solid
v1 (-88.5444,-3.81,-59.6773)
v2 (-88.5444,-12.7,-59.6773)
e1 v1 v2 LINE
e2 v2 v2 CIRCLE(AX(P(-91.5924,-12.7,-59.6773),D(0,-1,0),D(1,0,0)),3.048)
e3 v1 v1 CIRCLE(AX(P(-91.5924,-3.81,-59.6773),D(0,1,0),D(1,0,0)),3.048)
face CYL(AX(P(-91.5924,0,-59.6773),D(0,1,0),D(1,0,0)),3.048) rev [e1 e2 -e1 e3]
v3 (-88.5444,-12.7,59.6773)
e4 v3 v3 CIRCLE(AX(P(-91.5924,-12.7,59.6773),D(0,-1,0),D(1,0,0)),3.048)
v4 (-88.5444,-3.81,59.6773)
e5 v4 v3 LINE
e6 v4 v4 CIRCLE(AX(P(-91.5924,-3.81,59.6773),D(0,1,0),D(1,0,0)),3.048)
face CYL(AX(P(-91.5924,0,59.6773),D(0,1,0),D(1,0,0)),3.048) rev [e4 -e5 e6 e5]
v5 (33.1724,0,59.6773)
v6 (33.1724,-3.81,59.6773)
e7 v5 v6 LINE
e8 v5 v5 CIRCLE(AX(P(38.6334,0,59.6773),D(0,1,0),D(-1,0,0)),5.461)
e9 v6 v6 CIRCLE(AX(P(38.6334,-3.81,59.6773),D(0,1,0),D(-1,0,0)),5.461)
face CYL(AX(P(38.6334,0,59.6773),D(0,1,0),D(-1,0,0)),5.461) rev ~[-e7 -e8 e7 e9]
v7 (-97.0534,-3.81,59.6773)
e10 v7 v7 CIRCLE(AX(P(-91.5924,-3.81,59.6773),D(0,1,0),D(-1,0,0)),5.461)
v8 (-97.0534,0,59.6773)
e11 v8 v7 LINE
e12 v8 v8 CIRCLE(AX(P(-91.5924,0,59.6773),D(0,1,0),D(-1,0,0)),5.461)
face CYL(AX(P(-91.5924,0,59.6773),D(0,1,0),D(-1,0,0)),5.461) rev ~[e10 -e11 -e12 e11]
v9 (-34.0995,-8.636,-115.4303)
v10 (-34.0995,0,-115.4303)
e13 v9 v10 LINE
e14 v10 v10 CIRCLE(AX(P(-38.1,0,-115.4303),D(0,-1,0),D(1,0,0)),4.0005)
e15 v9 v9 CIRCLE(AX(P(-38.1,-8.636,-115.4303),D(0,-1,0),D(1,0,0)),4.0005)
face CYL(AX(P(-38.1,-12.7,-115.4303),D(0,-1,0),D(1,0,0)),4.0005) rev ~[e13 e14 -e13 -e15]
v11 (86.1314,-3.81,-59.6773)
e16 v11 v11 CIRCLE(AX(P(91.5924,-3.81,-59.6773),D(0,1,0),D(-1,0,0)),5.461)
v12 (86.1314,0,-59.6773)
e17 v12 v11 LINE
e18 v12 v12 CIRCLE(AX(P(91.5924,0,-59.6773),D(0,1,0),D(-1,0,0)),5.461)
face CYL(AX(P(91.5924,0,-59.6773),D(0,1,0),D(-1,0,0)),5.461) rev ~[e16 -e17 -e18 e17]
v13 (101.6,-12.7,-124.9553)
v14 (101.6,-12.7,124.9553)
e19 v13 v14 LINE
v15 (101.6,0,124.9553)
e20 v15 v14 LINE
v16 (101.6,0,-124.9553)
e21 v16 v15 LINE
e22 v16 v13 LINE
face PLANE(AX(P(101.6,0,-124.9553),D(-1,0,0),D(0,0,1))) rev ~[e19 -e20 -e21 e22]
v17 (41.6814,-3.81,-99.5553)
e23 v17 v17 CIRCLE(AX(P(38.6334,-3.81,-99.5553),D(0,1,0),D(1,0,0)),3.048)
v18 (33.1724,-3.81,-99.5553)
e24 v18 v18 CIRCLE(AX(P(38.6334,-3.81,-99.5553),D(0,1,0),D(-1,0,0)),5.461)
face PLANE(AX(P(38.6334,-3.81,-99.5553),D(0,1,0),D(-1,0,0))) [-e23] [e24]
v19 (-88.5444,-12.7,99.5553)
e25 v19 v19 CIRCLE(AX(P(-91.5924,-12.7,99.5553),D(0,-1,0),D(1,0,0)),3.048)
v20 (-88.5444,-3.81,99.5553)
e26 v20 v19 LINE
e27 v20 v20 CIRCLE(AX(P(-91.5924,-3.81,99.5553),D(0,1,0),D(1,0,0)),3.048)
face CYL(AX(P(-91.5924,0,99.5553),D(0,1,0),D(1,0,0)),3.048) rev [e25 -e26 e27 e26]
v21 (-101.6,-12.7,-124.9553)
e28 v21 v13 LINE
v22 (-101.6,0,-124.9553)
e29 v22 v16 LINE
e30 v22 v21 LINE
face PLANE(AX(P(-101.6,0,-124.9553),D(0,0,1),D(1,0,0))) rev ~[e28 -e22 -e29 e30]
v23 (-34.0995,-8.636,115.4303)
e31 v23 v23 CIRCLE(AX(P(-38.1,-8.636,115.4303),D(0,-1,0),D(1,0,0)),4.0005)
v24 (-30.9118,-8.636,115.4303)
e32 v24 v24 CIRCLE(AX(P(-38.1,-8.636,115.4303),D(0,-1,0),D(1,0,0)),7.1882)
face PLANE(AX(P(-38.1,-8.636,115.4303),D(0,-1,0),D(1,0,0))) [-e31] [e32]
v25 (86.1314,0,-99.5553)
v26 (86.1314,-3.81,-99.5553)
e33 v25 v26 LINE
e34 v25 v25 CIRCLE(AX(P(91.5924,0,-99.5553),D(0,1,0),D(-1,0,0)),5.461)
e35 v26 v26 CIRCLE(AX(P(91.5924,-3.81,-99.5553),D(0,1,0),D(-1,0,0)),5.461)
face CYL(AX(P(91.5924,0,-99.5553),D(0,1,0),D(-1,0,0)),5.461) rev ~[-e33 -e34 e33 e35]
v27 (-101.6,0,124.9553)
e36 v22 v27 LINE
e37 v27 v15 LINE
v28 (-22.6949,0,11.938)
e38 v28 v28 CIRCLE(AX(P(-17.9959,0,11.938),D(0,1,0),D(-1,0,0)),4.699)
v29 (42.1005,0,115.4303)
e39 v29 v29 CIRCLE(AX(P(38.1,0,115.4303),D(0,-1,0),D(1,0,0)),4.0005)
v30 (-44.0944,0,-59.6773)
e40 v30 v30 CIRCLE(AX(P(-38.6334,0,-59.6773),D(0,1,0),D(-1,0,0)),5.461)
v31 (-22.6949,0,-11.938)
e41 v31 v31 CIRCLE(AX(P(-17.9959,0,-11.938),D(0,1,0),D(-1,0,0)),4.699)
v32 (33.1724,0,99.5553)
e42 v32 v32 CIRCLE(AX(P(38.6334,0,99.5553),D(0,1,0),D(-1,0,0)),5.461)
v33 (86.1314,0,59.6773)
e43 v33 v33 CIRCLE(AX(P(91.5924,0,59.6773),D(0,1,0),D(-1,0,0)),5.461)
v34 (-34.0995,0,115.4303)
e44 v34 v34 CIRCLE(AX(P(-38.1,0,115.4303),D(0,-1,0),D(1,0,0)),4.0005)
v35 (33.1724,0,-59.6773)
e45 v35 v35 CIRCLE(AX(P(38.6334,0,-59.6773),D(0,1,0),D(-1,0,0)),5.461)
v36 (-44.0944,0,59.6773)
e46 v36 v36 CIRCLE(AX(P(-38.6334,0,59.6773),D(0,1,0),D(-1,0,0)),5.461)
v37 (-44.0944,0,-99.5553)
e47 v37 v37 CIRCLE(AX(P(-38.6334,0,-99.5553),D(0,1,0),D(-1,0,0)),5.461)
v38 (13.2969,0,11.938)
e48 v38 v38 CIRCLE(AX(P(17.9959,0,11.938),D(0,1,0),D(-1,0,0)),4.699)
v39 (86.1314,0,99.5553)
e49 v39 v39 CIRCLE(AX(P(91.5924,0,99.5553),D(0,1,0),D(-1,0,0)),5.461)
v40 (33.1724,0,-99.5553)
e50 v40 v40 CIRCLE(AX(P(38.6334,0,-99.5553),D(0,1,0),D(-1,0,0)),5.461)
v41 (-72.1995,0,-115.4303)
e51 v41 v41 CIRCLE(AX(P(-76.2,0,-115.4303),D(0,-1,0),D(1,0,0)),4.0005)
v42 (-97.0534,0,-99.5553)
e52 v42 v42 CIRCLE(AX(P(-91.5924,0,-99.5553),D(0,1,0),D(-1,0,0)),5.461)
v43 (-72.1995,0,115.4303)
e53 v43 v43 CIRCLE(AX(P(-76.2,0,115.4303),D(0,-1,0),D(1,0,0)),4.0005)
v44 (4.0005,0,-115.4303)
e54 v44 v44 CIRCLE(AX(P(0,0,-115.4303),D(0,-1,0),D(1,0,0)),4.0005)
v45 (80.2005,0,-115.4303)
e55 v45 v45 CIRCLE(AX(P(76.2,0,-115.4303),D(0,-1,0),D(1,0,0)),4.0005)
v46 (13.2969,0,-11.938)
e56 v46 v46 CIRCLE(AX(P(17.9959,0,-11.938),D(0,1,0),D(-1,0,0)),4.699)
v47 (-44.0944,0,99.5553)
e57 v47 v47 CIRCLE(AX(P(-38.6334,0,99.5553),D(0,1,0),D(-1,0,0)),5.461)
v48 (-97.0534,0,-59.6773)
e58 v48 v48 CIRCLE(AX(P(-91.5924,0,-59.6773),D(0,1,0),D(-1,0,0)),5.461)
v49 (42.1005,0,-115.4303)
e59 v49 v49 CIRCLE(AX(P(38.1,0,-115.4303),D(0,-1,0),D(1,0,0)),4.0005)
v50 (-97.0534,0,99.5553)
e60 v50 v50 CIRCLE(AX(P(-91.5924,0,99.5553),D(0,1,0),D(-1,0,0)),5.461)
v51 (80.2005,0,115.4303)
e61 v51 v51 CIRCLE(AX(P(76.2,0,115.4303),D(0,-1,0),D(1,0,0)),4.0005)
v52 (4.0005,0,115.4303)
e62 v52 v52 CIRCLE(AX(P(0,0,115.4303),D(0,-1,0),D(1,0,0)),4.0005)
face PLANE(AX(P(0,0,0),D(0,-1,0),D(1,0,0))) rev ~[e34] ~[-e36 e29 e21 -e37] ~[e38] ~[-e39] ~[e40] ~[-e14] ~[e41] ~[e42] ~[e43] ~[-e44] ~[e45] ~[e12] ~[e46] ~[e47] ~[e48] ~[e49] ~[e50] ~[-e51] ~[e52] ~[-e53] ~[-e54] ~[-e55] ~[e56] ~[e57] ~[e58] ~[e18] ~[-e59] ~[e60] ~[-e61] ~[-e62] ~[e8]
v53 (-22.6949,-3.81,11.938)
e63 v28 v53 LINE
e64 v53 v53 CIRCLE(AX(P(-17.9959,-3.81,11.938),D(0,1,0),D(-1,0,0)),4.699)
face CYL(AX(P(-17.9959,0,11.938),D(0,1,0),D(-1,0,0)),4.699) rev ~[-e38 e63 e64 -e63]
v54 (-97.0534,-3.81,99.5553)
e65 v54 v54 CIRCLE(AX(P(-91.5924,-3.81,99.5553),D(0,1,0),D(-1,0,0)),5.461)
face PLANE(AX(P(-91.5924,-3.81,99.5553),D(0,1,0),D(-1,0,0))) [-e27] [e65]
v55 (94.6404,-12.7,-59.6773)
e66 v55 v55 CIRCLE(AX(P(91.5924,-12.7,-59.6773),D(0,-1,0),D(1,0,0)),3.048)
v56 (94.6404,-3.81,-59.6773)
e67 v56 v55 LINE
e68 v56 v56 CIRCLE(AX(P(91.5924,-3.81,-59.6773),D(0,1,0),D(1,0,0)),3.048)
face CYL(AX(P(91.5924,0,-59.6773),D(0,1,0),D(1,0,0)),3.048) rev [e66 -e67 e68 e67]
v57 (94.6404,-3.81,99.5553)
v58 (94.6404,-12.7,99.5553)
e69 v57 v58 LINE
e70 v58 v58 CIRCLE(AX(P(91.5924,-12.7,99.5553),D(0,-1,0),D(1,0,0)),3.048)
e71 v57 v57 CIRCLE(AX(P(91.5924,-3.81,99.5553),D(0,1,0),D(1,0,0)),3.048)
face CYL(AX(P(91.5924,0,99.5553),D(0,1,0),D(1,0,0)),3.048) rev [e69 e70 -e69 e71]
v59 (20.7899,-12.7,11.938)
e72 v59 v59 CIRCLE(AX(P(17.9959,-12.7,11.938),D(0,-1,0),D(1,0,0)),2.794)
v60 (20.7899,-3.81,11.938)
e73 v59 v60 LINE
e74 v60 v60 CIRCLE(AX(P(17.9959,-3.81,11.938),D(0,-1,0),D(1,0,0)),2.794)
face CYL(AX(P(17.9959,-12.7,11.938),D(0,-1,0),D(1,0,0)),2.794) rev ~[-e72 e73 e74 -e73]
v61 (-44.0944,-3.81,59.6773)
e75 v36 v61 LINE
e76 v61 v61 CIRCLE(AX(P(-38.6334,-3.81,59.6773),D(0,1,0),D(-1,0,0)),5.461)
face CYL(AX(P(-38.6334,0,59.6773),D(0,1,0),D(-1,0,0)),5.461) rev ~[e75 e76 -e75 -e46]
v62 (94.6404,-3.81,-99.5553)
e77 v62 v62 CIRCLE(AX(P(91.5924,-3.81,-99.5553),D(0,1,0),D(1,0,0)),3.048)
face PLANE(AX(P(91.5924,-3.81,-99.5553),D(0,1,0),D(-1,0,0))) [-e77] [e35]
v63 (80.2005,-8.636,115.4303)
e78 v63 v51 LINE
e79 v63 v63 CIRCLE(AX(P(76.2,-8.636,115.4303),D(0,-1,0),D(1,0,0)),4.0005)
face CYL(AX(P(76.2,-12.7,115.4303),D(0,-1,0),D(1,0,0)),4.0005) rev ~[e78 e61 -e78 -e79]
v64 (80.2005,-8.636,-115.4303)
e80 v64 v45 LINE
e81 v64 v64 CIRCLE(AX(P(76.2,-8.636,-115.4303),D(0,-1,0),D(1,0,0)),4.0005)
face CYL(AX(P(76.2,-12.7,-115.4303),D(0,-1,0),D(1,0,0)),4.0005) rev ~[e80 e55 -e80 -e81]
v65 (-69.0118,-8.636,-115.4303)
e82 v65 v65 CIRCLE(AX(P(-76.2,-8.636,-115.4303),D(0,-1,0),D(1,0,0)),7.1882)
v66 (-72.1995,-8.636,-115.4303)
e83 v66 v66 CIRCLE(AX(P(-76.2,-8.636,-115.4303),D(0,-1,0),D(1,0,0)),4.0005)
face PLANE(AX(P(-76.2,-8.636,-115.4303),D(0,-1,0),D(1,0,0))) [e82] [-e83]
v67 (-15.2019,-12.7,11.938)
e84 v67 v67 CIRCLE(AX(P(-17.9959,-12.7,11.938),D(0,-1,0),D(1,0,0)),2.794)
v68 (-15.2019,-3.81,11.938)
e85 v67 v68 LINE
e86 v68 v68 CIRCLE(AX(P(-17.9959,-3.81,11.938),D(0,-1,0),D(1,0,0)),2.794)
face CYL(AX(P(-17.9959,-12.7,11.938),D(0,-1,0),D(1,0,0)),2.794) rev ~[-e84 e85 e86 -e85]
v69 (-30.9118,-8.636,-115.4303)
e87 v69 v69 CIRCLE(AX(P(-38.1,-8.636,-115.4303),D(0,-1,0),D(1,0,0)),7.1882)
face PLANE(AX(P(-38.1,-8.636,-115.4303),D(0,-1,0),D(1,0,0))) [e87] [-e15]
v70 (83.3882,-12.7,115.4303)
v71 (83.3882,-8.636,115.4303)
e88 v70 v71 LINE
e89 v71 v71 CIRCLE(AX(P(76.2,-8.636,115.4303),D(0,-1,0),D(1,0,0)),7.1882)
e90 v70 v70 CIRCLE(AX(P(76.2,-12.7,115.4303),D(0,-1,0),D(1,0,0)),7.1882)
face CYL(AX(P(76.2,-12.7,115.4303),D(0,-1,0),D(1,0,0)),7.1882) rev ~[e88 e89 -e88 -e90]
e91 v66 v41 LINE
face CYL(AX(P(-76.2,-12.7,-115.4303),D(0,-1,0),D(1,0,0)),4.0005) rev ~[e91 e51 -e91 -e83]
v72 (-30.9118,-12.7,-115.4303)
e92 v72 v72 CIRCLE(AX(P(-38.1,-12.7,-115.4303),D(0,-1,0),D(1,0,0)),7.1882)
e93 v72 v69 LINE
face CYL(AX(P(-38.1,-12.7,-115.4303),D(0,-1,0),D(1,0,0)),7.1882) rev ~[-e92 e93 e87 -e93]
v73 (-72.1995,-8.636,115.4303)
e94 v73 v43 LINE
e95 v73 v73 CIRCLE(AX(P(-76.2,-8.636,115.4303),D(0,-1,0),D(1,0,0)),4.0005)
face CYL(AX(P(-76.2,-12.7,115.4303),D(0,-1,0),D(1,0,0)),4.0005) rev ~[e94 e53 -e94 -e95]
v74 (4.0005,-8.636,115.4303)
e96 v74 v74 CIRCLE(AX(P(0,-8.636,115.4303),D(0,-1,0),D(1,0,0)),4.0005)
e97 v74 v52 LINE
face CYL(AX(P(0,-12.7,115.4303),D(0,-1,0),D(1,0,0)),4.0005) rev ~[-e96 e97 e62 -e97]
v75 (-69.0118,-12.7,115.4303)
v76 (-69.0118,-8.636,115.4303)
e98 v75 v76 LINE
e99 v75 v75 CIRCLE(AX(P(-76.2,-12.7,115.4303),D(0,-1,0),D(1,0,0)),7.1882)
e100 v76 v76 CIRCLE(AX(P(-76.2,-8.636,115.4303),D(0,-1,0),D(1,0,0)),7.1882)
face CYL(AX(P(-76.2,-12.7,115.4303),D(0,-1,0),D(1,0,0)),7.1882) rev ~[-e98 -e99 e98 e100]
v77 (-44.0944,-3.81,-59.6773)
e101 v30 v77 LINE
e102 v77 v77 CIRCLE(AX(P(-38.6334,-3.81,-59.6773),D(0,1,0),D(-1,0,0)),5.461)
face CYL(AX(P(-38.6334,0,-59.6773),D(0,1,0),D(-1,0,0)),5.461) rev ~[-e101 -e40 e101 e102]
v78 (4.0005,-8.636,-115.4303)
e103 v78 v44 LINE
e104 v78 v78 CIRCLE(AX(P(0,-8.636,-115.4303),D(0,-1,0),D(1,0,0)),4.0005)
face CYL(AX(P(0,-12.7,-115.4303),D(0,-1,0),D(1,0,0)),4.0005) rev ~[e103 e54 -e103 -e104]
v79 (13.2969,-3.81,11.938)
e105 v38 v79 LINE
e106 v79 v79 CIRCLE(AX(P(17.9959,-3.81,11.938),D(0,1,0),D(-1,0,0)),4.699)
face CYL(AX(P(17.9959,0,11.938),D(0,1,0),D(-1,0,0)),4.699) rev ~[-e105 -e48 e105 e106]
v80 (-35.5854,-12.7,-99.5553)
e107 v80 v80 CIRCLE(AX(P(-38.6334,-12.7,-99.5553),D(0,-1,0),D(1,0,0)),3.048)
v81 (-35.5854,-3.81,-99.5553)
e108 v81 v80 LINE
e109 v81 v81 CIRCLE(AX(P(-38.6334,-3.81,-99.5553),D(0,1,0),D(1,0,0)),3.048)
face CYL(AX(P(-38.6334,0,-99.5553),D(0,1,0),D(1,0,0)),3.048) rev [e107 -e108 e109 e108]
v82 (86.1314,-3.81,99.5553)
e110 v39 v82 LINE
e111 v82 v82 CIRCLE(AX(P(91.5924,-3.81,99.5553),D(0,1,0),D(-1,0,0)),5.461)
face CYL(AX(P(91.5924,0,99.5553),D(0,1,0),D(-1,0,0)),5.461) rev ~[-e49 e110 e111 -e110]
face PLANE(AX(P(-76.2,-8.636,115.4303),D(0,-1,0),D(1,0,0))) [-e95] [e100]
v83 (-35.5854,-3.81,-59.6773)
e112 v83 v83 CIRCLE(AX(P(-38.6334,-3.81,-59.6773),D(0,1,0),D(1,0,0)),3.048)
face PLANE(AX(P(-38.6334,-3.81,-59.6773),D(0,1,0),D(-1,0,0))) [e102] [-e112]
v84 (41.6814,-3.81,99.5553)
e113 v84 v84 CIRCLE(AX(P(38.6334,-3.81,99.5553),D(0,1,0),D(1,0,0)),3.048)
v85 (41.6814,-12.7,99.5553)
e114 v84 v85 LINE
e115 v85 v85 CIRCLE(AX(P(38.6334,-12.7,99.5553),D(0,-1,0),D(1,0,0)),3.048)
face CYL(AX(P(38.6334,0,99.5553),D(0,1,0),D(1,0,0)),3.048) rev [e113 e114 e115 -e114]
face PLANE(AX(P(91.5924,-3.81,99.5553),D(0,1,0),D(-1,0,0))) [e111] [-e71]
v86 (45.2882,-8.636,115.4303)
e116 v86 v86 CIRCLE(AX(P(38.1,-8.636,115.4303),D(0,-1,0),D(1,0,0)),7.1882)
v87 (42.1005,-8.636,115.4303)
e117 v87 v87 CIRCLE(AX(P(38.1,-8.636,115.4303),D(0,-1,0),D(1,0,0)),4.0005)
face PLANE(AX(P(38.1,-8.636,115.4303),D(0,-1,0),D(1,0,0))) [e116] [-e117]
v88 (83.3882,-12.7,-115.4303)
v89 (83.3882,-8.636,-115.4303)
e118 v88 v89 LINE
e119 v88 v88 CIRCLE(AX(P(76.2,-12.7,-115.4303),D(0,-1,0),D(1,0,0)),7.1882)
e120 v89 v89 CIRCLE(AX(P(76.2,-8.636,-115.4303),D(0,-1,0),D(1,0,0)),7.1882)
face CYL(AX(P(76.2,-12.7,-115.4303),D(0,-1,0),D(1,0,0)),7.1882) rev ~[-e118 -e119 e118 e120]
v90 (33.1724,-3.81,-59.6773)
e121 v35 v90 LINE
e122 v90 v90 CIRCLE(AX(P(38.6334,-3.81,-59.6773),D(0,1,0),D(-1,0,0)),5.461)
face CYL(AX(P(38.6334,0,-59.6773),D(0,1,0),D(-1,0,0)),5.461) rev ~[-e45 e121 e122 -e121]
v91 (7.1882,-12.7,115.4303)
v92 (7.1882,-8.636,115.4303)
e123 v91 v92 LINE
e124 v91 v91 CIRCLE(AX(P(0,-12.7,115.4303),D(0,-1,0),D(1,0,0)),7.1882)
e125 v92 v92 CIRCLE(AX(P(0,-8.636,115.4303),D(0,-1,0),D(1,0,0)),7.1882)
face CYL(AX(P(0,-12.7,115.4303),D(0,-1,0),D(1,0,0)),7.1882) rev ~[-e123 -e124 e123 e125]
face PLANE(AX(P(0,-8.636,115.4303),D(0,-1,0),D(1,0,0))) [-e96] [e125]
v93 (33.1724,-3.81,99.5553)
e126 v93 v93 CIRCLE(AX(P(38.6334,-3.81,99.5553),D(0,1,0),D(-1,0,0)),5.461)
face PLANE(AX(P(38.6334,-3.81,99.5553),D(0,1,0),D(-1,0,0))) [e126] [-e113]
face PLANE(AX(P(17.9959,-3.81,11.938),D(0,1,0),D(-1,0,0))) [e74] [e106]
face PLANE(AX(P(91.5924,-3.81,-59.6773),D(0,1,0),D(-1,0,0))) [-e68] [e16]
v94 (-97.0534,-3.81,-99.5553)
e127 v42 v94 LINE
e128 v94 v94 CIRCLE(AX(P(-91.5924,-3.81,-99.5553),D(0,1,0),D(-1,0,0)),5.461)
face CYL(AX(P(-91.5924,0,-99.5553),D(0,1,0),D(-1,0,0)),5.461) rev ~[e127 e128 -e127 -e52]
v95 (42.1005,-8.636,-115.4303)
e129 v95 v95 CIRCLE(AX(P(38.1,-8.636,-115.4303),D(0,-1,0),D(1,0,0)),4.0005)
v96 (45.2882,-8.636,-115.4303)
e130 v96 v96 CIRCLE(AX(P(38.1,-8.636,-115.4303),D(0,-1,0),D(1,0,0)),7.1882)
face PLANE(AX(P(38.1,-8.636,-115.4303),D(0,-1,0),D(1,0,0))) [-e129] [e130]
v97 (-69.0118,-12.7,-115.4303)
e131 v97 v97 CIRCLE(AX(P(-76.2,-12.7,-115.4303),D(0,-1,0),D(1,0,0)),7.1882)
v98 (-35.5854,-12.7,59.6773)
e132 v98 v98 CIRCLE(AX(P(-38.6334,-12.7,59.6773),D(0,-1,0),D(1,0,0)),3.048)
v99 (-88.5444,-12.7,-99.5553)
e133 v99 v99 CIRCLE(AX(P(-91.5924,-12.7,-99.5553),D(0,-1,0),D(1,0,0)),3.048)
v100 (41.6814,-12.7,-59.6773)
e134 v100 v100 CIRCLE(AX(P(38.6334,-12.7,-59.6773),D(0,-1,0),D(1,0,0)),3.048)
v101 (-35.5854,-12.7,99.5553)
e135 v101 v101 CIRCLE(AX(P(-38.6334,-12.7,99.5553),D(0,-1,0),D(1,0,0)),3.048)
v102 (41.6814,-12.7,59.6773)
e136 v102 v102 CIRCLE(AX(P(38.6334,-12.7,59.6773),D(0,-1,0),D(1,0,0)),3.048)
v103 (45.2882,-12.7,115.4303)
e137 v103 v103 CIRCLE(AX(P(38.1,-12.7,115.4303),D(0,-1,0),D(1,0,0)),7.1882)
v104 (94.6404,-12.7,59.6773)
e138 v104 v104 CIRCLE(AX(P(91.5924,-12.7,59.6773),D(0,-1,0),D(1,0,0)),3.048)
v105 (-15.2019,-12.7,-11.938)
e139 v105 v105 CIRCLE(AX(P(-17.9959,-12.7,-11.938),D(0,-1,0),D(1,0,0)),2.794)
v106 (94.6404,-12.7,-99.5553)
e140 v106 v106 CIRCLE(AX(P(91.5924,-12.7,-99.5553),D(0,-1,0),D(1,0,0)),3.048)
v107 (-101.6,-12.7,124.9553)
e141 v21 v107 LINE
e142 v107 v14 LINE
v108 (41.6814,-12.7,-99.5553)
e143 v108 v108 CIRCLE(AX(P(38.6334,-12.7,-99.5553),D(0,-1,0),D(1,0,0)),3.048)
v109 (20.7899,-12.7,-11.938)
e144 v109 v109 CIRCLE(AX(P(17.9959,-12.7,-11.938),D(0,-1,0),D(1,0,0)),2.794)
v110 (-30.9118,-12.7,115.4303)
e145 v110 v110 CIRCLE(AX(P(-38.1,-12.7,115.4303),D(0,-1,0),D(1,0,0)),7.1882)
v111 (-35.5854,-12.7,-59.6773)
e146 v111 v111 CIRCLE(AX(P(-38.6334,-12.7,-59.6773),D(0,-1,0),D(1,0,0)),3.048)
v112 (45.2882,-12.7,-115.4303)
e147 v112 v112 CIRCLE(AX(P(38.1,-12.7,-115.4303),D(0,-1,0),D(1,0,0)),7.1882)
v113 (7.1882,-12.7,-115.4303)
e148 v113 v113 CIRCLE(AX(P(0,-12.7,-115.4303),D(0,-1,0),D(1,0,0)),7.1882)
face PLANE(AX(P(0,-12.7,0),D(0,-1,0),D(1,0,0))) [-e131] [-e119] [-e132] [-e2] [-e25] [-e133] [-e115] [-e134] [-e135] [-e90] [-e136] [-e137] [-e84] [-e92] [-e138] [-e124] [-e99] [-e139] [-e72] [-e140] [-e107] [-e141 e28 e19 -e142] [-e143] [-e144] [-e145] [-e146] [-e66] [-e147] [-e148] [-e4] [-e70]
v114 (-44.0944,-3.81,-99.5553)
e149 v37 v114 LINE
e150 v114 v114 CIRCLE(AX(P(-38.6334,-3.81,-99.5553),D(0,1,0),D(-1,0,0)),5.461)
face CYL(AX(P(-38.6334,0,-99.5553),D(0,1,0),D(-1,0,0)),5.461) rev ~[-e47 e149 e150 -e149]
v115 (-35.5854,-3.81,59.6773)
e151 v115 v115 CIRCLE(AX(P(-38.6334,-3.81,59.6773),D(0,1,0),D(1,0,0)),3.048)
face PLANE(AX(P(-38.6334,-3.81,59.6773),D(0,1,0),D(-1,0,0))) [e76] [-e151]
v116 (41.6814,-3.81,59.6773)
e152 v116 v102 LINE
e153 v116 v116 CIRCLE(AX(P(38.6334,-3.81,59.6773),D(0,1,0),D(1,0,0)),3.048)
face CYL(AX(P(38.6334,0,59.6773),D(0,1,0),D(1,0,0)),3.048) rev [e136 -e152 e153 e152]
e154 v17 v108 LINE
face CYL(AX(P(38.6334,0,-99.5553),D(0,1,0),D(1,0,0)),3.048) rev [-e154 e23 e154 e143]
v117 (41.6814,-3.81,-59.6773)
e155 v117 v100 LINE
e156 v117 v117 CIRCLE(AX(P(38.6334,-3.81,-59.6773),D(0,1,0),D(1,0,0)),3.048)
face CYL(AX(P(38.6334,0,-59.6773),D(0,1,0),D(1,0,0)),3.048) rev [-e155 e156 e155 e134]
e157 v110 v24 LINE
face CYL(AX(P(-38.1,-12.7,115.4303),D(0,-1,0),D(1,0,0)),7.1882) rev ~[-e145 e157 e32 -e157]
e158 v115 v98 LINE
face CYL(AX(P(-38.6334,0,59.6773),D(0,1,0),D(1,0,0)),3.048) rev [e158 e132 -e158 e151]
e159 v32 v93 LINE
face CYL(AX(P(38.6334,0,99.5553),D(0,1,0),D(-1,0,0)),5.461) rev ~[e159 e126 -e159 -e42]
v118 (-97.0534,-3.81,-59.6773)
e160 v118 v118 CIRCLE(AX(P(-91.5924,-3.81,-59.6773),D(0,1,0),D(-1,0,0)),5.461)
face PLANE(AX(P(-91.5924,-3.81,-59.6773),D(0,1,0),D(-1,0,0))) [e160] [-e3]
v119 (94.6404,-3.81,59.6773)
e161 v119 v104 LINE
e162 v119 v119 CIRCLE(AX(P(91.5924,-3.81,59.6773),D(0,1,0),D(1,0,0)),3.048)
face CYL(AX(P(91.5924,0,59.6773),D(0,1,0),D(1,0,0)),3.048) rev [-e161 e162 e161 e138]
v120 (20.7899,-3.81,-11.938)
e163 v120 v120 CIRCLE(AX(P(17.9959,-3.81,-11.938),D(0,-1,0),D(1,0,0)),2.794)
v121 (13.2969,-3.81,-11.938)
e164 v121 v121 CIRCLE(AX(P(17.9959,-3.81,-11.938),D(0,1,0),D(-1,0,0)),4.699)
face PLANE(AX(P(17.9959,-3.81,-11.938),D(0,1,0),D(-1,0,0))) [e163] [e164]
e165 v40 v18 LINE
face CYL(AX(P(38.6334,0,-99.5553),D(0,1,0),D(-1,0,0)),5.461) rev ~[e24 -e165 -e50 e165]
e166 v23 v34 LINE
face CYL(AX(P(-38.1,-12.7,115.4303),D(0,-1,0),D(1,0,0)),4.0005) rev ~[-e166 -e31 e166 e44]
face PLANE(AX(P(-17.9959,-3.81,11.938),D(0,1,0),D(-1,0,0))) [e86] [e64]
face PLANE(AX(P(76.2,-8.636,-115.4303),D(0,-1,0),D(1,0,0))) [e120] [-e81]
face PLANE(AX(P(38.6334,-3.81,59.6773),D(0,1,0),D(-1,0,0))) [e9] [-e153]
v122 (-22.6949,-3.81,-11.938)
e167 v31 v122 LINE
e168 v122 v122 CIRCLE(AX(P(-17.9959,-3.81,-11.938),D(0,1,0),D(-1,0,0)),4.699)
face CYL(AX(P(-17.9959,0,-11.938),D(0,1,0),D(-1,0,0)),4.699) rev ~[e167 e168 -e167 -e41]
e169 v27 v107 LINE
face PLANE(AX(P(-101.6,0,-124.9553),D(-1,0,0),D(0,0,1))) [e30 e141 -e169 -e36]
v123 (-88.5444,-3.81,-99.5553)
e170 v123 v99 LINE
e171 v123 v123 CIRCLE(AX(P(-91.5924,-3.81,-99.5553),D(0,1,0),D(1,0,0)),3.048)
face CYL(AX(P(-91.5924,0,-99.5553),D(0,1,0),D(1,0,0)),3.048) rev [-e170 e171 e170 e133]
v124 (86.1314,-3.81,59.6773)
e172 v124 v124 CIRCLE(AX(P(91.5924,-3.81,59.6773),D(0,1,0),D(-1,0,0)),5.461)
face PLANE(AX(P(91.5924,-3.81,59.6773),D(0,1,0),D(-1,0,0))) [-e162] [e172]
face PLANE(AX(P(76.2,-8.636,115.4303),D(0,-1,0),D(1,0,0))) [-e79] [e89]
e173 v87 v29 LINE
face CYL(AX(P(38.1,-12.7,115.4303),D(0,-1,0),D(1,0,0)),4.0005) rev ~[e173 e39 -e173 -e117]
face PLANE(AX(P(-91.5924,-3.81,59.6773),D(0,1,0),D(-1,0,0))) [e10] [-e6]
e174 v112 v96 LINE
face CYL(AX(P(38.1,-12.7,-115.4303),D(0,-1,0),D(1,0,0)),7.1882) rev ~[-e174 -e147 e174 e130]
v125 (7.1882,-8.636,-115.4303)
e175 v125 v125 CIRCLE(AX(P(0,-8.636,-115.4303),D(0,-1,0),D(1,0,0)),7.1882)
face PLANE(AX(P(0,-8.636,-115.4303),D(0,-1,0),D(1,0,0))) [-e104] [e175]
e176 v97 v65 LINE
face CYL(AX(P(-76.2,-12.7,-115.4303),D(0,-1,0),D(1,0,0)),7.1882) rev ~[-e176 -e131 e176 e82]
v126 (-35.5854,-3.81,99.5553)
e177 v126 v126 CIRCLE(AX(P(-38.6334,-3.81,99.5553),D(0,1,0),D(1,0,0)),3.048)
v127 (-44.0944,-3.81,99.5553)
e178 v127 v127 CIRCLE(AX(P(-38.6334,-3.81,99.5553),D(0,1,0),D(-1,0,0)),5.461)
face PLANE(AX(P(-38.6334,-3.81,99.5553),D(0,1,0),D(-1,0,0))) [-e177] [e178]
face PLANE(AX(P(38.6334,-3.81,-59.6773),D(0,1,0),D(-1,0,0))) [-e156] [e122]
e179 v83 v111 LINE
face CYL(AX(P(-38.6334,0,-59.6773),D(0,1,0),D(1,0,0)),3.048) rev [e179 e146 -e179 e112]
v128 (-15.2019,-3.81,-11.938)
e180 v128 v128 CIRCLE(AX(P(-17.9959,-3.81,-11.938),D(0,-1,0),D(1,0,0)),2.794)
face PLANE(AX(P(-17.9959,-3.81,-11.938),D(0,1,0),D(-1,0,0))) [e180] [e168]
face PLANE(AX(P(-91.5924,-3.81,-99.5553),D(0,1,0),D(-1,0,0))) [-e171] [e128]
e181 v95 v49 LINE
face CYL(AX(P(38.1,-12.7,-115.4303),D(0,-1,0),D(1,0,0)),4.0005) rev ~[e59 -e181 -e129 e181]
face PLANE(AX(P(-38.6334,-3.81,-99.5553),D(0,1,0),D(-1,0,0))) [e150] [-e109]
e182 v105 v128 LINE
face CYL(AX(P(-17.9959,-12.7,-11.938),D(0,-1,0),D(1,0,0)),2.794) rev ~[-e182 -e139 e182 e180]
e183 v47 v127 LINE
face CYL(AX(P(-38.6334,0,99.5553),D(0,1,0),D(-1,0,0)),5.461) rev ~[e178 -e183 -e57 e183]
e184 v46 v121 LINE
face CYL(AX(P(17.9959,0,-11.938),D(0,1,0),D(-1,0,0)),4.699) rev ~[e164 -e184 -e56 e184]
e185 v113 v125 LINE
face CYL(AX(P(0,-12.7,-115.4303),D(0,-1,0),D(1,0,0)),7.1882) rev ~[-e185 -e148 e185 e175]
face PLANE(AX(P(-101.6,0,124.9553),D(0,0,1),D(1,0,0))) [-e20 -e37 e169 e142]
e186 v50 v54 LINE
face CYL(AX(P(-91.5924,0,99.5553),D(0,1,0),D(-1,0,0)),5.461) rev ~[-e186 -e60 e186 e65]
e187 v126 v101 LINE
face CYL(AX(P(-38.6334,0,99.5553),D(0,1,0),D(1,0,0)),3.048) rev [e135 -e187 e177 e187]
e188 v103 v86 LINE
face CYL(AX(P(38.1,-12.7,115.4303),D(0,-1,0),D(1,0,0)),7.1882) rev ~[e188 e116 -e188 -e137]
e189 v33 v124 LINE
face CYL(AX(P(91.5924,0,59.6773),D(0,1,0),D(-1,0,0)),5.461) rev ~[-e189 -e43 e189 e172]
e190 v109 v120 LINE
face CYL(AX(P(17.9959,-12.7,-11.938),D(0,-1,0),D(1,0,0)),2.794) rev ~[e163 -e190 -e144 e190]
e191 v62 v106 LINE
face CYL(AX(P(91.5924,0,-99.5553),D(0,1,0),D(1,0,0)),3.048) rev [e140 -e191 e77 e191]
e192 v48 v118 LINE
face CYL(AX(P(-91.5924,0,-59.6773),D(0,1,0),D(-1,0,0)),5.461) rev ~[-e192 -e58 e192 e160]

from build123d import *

# Parameters (mm, degrees)
F0_W      = 203.2
F0_H      = 249.9106
F0_R      = 3.048
F1_DEPTH  = 12.7
F2_R      = 2.794
F3_DEPTH  = 12.701
F4_R      = 4.0005
F5_DEPTH  = 12.701
F6_DEPTH  = 12.701
F7_R      = 7.1882
F8_DEPTH  = 4.064
F9_R      = 5.461
F9_R_2    = 4.699
F10_DEPTH = 3.81


with BuildPart() as f1:
    # F0 (on Front) → F1 (new body)
    with BuildSketch(Plane.XZ):
        Rectangle(F0_W, F0_H)
        with Locations((-91.5924, -99.5553)):
            Circle(F0_R, mode=Mode.SUBTRACT)
        with Locations((-38.6334, -99.5553)):
            Circle(F0_R, mode=Mode.SUBTRACT)
        with Locations((-91.5924, -59.6773)):
            Circle(F0_R, mode=Mode.SUBTRACT)
        with Locations((-38.6334, -59.6773)):
            Circle(F0_R, mode=Mode.SUBTRACT)
        with Locations((38.6334, -99.5553)):
            Circle(F0_R, mode=Mode.SUBTRACT)
        with Locations((91.5924, -99.5553)):
            Circle(F0_R, mode=Mode.SUBTRACT)
        with Locations((38.6334, -59.6773)):
            Circle(F0_R, mode=Mode.SUBTRACT)
        with Locations((91.5924, -59.6773)):
            Circle(F0_R, mode=Mode.SUBTRACT)
        with Locations((-91.5924, 59.6773)):
            Circle(F0_R, mode=Mode.SUBTRACT)
        with Locations((-38.6334, 59.6773)):
            Circle(F0_R, mode=Mode.SUBTRACT)
        with Locations((-91.5924, 99.5553)):
            Circle(F0_R, mode=Mode.SUBTRACT)
        with Locations((-38.6334, 99.5553)):
            Circle(F0_R, mode=Mode.SUBTRACT)
        with Locations((38.6334, 59.6773)):
            Circle(F0_R, mode=Mode.SUBTRACT)
        with Locations((91.5924, 59.6773)):
            Circle(F0_R, mode=Mode.SUBTRACT)
        with Locations((38.6334, 99.5553)):
            Circle(F0_R, mode=Mode.SUBTRACT)
        with Locations((91.5924, 99.5553)):
            Circle(F0_R, mode=Mode.SUBTRACT)
    extrude(amount=F1_DEPTH)

    # F2 (on face) → F3 (cut, through all)
    with BuildSketch(Plane.XZ.offset(12.7)):
        with Locations((-17.9959, 11.938)):
            Circle(F2_R)
        with Locations((17.9959, 11.938)):
            Circle(F2_R)
        with Locations((17.9959, -11.938)):
            Circle(F2_R)
        with Locations((-17.9959, -11.938)):
            Circle(F2_R)
    extrude(amount=-F3_DEPTH, mode=Mode.SUBTRACT)

    # F4 (on face) → F5 (cut, through all)
    with BuildSketch(Plane.XZ.offset(12.7)):
        with Locations((-76.2, 115.4303)):
            Circle(F4_R)
        with Locations((-38.1, 115.4303)):
            Circle(F4_R)
        with Locations((0, 115.4303)):
            Circle(F4_R)
        with Locations((38.1, 115.4303)):
            Circle(F4_R)
        with Locations((76.2, 115.4303)):
            Circle(F4_R)
        with Locations((-76.2, -115.4303)):
            Circle(F4_R)
        with Locations((-38.1, -115.4303)):
            Circle(F4_R)
        with Locations((0, -115.4303)):
            Circle(F4_R)
        with Locations((38.1, -115.4303)):
            Circle(F4_R)
        with Locations((76.2, -115.4303)):
            Circle(F4_R)
    extrude(amount=-F5_DEPTH, mode=Mode.SUBTRACT)

    # F2 (on face) → F6 (cut, through all)
    with BuildSketch(Plane.XZ.offset(12.7)):
        with Locations((-17.9959, 11.938)):
            Circle(F2_R)
        with Locations((17.9959, 11.938)):
            Circle(F2_R)
        with Locations((17.9959, -11.938)):
            Circle(F2_R)
        with Locations((-17.9959, -11.938)):
            Circle(F2_R)
    extrude(amount=-F6_DEPTH, mode=Mode.SUBTRACT)

    # F7 (on face) → F8 (cut)
    with BuildSketch(Plane.XZ.offset(12.7)):
        with Locations((0, -115.4303)):
            Circle(F7_R)
        with Locations((0, 115.4303)):
            Circle(F7_R)
        with Locations((-38.1, -115.4303)):
            Circle(F7_R)
        with Locations((-76.2, -115.4303)):
            Circle(F7_R)
        with Locations((38.1, -115.4303)):
            Circle(F7_R)
        with Locations((76.2, -115.4303)):
            Circle(F7_R)
        with Locations((-76.2, 115.4303)):
            Circle(F7_R)
        with Locations((-38.1, 115.4303)):
            Circle(F7_R)
        with Locations((38.1, 115.4303)):
            Circle(F7_R)
        with Locations((76.2, 115.4303)):
            Circle(F7_R)
    extrude(amount=-F8_DEPTH, mode=Mode.SUBTRACT)

    # F9 (on face) → F10 (cut)
    with BuildSketch(Plane(origin=(0, 0, 0), x_dir=(-1, 0, 0), z_dir=(0, 1, 0))):
        with Locations((-91.5924, 99.5553)):
            Circle(F9_R)
        with Locations((-38.6334, 99.5553)):
            Circle(F9_R)
        with Locations((38.6334, 99.5553)):
            Circle(F9_R)
        with Locations((91.5924, 99.5553)):
            Circle(F9_R)
        with Locations((-91.5924, 59.6773)):
            Circle(F9_R)
        with Locations((-38.6334, 59.6773)):
            Circle(F9_R)
        with Locations((38.6334, 59.6773)):
            Circle(F9_R)
        with Locations((91.5924, 59.6773)):
            Circle(F9_R)
        with Locations((-91.5924, -59.6773)):
            Circle(F9_R)
        with Locations((-38.6334, -59.6773)):
            Circle(F9_R)
        with Locations((38.6334, -59.6773)):
            Circle(F9_R)
        with Locations((91.5924, -59.6773)):
            Circle(F9_R)
        with Locations((91.5924, -99.5553)):
            Circle(F9_R)
        with Locations((38.6334, -99.5553)):
            Circle(F9_R)
        with Locations((-38.6334, -99.5553)):
            Circle(F9_R)
        with Locations((-91.5924, -99.5553)):
            Circle(F9_R)
        with Locations((-17.9959, 11.938)):
            Circle(F9_R_2)
        with Locations((17.9959, 11.938)):
            Circle(F9_R_2)
        with Locations((17.9959, -11.938)):
            Circle(F9_R_2)
        with Locations((-17.9959, -11.938)):
            Circle(F9_R_2)
    extrude(amount=-F10_DEPTH, mode=Mode.SUBTRACT)


solid = f1.part
